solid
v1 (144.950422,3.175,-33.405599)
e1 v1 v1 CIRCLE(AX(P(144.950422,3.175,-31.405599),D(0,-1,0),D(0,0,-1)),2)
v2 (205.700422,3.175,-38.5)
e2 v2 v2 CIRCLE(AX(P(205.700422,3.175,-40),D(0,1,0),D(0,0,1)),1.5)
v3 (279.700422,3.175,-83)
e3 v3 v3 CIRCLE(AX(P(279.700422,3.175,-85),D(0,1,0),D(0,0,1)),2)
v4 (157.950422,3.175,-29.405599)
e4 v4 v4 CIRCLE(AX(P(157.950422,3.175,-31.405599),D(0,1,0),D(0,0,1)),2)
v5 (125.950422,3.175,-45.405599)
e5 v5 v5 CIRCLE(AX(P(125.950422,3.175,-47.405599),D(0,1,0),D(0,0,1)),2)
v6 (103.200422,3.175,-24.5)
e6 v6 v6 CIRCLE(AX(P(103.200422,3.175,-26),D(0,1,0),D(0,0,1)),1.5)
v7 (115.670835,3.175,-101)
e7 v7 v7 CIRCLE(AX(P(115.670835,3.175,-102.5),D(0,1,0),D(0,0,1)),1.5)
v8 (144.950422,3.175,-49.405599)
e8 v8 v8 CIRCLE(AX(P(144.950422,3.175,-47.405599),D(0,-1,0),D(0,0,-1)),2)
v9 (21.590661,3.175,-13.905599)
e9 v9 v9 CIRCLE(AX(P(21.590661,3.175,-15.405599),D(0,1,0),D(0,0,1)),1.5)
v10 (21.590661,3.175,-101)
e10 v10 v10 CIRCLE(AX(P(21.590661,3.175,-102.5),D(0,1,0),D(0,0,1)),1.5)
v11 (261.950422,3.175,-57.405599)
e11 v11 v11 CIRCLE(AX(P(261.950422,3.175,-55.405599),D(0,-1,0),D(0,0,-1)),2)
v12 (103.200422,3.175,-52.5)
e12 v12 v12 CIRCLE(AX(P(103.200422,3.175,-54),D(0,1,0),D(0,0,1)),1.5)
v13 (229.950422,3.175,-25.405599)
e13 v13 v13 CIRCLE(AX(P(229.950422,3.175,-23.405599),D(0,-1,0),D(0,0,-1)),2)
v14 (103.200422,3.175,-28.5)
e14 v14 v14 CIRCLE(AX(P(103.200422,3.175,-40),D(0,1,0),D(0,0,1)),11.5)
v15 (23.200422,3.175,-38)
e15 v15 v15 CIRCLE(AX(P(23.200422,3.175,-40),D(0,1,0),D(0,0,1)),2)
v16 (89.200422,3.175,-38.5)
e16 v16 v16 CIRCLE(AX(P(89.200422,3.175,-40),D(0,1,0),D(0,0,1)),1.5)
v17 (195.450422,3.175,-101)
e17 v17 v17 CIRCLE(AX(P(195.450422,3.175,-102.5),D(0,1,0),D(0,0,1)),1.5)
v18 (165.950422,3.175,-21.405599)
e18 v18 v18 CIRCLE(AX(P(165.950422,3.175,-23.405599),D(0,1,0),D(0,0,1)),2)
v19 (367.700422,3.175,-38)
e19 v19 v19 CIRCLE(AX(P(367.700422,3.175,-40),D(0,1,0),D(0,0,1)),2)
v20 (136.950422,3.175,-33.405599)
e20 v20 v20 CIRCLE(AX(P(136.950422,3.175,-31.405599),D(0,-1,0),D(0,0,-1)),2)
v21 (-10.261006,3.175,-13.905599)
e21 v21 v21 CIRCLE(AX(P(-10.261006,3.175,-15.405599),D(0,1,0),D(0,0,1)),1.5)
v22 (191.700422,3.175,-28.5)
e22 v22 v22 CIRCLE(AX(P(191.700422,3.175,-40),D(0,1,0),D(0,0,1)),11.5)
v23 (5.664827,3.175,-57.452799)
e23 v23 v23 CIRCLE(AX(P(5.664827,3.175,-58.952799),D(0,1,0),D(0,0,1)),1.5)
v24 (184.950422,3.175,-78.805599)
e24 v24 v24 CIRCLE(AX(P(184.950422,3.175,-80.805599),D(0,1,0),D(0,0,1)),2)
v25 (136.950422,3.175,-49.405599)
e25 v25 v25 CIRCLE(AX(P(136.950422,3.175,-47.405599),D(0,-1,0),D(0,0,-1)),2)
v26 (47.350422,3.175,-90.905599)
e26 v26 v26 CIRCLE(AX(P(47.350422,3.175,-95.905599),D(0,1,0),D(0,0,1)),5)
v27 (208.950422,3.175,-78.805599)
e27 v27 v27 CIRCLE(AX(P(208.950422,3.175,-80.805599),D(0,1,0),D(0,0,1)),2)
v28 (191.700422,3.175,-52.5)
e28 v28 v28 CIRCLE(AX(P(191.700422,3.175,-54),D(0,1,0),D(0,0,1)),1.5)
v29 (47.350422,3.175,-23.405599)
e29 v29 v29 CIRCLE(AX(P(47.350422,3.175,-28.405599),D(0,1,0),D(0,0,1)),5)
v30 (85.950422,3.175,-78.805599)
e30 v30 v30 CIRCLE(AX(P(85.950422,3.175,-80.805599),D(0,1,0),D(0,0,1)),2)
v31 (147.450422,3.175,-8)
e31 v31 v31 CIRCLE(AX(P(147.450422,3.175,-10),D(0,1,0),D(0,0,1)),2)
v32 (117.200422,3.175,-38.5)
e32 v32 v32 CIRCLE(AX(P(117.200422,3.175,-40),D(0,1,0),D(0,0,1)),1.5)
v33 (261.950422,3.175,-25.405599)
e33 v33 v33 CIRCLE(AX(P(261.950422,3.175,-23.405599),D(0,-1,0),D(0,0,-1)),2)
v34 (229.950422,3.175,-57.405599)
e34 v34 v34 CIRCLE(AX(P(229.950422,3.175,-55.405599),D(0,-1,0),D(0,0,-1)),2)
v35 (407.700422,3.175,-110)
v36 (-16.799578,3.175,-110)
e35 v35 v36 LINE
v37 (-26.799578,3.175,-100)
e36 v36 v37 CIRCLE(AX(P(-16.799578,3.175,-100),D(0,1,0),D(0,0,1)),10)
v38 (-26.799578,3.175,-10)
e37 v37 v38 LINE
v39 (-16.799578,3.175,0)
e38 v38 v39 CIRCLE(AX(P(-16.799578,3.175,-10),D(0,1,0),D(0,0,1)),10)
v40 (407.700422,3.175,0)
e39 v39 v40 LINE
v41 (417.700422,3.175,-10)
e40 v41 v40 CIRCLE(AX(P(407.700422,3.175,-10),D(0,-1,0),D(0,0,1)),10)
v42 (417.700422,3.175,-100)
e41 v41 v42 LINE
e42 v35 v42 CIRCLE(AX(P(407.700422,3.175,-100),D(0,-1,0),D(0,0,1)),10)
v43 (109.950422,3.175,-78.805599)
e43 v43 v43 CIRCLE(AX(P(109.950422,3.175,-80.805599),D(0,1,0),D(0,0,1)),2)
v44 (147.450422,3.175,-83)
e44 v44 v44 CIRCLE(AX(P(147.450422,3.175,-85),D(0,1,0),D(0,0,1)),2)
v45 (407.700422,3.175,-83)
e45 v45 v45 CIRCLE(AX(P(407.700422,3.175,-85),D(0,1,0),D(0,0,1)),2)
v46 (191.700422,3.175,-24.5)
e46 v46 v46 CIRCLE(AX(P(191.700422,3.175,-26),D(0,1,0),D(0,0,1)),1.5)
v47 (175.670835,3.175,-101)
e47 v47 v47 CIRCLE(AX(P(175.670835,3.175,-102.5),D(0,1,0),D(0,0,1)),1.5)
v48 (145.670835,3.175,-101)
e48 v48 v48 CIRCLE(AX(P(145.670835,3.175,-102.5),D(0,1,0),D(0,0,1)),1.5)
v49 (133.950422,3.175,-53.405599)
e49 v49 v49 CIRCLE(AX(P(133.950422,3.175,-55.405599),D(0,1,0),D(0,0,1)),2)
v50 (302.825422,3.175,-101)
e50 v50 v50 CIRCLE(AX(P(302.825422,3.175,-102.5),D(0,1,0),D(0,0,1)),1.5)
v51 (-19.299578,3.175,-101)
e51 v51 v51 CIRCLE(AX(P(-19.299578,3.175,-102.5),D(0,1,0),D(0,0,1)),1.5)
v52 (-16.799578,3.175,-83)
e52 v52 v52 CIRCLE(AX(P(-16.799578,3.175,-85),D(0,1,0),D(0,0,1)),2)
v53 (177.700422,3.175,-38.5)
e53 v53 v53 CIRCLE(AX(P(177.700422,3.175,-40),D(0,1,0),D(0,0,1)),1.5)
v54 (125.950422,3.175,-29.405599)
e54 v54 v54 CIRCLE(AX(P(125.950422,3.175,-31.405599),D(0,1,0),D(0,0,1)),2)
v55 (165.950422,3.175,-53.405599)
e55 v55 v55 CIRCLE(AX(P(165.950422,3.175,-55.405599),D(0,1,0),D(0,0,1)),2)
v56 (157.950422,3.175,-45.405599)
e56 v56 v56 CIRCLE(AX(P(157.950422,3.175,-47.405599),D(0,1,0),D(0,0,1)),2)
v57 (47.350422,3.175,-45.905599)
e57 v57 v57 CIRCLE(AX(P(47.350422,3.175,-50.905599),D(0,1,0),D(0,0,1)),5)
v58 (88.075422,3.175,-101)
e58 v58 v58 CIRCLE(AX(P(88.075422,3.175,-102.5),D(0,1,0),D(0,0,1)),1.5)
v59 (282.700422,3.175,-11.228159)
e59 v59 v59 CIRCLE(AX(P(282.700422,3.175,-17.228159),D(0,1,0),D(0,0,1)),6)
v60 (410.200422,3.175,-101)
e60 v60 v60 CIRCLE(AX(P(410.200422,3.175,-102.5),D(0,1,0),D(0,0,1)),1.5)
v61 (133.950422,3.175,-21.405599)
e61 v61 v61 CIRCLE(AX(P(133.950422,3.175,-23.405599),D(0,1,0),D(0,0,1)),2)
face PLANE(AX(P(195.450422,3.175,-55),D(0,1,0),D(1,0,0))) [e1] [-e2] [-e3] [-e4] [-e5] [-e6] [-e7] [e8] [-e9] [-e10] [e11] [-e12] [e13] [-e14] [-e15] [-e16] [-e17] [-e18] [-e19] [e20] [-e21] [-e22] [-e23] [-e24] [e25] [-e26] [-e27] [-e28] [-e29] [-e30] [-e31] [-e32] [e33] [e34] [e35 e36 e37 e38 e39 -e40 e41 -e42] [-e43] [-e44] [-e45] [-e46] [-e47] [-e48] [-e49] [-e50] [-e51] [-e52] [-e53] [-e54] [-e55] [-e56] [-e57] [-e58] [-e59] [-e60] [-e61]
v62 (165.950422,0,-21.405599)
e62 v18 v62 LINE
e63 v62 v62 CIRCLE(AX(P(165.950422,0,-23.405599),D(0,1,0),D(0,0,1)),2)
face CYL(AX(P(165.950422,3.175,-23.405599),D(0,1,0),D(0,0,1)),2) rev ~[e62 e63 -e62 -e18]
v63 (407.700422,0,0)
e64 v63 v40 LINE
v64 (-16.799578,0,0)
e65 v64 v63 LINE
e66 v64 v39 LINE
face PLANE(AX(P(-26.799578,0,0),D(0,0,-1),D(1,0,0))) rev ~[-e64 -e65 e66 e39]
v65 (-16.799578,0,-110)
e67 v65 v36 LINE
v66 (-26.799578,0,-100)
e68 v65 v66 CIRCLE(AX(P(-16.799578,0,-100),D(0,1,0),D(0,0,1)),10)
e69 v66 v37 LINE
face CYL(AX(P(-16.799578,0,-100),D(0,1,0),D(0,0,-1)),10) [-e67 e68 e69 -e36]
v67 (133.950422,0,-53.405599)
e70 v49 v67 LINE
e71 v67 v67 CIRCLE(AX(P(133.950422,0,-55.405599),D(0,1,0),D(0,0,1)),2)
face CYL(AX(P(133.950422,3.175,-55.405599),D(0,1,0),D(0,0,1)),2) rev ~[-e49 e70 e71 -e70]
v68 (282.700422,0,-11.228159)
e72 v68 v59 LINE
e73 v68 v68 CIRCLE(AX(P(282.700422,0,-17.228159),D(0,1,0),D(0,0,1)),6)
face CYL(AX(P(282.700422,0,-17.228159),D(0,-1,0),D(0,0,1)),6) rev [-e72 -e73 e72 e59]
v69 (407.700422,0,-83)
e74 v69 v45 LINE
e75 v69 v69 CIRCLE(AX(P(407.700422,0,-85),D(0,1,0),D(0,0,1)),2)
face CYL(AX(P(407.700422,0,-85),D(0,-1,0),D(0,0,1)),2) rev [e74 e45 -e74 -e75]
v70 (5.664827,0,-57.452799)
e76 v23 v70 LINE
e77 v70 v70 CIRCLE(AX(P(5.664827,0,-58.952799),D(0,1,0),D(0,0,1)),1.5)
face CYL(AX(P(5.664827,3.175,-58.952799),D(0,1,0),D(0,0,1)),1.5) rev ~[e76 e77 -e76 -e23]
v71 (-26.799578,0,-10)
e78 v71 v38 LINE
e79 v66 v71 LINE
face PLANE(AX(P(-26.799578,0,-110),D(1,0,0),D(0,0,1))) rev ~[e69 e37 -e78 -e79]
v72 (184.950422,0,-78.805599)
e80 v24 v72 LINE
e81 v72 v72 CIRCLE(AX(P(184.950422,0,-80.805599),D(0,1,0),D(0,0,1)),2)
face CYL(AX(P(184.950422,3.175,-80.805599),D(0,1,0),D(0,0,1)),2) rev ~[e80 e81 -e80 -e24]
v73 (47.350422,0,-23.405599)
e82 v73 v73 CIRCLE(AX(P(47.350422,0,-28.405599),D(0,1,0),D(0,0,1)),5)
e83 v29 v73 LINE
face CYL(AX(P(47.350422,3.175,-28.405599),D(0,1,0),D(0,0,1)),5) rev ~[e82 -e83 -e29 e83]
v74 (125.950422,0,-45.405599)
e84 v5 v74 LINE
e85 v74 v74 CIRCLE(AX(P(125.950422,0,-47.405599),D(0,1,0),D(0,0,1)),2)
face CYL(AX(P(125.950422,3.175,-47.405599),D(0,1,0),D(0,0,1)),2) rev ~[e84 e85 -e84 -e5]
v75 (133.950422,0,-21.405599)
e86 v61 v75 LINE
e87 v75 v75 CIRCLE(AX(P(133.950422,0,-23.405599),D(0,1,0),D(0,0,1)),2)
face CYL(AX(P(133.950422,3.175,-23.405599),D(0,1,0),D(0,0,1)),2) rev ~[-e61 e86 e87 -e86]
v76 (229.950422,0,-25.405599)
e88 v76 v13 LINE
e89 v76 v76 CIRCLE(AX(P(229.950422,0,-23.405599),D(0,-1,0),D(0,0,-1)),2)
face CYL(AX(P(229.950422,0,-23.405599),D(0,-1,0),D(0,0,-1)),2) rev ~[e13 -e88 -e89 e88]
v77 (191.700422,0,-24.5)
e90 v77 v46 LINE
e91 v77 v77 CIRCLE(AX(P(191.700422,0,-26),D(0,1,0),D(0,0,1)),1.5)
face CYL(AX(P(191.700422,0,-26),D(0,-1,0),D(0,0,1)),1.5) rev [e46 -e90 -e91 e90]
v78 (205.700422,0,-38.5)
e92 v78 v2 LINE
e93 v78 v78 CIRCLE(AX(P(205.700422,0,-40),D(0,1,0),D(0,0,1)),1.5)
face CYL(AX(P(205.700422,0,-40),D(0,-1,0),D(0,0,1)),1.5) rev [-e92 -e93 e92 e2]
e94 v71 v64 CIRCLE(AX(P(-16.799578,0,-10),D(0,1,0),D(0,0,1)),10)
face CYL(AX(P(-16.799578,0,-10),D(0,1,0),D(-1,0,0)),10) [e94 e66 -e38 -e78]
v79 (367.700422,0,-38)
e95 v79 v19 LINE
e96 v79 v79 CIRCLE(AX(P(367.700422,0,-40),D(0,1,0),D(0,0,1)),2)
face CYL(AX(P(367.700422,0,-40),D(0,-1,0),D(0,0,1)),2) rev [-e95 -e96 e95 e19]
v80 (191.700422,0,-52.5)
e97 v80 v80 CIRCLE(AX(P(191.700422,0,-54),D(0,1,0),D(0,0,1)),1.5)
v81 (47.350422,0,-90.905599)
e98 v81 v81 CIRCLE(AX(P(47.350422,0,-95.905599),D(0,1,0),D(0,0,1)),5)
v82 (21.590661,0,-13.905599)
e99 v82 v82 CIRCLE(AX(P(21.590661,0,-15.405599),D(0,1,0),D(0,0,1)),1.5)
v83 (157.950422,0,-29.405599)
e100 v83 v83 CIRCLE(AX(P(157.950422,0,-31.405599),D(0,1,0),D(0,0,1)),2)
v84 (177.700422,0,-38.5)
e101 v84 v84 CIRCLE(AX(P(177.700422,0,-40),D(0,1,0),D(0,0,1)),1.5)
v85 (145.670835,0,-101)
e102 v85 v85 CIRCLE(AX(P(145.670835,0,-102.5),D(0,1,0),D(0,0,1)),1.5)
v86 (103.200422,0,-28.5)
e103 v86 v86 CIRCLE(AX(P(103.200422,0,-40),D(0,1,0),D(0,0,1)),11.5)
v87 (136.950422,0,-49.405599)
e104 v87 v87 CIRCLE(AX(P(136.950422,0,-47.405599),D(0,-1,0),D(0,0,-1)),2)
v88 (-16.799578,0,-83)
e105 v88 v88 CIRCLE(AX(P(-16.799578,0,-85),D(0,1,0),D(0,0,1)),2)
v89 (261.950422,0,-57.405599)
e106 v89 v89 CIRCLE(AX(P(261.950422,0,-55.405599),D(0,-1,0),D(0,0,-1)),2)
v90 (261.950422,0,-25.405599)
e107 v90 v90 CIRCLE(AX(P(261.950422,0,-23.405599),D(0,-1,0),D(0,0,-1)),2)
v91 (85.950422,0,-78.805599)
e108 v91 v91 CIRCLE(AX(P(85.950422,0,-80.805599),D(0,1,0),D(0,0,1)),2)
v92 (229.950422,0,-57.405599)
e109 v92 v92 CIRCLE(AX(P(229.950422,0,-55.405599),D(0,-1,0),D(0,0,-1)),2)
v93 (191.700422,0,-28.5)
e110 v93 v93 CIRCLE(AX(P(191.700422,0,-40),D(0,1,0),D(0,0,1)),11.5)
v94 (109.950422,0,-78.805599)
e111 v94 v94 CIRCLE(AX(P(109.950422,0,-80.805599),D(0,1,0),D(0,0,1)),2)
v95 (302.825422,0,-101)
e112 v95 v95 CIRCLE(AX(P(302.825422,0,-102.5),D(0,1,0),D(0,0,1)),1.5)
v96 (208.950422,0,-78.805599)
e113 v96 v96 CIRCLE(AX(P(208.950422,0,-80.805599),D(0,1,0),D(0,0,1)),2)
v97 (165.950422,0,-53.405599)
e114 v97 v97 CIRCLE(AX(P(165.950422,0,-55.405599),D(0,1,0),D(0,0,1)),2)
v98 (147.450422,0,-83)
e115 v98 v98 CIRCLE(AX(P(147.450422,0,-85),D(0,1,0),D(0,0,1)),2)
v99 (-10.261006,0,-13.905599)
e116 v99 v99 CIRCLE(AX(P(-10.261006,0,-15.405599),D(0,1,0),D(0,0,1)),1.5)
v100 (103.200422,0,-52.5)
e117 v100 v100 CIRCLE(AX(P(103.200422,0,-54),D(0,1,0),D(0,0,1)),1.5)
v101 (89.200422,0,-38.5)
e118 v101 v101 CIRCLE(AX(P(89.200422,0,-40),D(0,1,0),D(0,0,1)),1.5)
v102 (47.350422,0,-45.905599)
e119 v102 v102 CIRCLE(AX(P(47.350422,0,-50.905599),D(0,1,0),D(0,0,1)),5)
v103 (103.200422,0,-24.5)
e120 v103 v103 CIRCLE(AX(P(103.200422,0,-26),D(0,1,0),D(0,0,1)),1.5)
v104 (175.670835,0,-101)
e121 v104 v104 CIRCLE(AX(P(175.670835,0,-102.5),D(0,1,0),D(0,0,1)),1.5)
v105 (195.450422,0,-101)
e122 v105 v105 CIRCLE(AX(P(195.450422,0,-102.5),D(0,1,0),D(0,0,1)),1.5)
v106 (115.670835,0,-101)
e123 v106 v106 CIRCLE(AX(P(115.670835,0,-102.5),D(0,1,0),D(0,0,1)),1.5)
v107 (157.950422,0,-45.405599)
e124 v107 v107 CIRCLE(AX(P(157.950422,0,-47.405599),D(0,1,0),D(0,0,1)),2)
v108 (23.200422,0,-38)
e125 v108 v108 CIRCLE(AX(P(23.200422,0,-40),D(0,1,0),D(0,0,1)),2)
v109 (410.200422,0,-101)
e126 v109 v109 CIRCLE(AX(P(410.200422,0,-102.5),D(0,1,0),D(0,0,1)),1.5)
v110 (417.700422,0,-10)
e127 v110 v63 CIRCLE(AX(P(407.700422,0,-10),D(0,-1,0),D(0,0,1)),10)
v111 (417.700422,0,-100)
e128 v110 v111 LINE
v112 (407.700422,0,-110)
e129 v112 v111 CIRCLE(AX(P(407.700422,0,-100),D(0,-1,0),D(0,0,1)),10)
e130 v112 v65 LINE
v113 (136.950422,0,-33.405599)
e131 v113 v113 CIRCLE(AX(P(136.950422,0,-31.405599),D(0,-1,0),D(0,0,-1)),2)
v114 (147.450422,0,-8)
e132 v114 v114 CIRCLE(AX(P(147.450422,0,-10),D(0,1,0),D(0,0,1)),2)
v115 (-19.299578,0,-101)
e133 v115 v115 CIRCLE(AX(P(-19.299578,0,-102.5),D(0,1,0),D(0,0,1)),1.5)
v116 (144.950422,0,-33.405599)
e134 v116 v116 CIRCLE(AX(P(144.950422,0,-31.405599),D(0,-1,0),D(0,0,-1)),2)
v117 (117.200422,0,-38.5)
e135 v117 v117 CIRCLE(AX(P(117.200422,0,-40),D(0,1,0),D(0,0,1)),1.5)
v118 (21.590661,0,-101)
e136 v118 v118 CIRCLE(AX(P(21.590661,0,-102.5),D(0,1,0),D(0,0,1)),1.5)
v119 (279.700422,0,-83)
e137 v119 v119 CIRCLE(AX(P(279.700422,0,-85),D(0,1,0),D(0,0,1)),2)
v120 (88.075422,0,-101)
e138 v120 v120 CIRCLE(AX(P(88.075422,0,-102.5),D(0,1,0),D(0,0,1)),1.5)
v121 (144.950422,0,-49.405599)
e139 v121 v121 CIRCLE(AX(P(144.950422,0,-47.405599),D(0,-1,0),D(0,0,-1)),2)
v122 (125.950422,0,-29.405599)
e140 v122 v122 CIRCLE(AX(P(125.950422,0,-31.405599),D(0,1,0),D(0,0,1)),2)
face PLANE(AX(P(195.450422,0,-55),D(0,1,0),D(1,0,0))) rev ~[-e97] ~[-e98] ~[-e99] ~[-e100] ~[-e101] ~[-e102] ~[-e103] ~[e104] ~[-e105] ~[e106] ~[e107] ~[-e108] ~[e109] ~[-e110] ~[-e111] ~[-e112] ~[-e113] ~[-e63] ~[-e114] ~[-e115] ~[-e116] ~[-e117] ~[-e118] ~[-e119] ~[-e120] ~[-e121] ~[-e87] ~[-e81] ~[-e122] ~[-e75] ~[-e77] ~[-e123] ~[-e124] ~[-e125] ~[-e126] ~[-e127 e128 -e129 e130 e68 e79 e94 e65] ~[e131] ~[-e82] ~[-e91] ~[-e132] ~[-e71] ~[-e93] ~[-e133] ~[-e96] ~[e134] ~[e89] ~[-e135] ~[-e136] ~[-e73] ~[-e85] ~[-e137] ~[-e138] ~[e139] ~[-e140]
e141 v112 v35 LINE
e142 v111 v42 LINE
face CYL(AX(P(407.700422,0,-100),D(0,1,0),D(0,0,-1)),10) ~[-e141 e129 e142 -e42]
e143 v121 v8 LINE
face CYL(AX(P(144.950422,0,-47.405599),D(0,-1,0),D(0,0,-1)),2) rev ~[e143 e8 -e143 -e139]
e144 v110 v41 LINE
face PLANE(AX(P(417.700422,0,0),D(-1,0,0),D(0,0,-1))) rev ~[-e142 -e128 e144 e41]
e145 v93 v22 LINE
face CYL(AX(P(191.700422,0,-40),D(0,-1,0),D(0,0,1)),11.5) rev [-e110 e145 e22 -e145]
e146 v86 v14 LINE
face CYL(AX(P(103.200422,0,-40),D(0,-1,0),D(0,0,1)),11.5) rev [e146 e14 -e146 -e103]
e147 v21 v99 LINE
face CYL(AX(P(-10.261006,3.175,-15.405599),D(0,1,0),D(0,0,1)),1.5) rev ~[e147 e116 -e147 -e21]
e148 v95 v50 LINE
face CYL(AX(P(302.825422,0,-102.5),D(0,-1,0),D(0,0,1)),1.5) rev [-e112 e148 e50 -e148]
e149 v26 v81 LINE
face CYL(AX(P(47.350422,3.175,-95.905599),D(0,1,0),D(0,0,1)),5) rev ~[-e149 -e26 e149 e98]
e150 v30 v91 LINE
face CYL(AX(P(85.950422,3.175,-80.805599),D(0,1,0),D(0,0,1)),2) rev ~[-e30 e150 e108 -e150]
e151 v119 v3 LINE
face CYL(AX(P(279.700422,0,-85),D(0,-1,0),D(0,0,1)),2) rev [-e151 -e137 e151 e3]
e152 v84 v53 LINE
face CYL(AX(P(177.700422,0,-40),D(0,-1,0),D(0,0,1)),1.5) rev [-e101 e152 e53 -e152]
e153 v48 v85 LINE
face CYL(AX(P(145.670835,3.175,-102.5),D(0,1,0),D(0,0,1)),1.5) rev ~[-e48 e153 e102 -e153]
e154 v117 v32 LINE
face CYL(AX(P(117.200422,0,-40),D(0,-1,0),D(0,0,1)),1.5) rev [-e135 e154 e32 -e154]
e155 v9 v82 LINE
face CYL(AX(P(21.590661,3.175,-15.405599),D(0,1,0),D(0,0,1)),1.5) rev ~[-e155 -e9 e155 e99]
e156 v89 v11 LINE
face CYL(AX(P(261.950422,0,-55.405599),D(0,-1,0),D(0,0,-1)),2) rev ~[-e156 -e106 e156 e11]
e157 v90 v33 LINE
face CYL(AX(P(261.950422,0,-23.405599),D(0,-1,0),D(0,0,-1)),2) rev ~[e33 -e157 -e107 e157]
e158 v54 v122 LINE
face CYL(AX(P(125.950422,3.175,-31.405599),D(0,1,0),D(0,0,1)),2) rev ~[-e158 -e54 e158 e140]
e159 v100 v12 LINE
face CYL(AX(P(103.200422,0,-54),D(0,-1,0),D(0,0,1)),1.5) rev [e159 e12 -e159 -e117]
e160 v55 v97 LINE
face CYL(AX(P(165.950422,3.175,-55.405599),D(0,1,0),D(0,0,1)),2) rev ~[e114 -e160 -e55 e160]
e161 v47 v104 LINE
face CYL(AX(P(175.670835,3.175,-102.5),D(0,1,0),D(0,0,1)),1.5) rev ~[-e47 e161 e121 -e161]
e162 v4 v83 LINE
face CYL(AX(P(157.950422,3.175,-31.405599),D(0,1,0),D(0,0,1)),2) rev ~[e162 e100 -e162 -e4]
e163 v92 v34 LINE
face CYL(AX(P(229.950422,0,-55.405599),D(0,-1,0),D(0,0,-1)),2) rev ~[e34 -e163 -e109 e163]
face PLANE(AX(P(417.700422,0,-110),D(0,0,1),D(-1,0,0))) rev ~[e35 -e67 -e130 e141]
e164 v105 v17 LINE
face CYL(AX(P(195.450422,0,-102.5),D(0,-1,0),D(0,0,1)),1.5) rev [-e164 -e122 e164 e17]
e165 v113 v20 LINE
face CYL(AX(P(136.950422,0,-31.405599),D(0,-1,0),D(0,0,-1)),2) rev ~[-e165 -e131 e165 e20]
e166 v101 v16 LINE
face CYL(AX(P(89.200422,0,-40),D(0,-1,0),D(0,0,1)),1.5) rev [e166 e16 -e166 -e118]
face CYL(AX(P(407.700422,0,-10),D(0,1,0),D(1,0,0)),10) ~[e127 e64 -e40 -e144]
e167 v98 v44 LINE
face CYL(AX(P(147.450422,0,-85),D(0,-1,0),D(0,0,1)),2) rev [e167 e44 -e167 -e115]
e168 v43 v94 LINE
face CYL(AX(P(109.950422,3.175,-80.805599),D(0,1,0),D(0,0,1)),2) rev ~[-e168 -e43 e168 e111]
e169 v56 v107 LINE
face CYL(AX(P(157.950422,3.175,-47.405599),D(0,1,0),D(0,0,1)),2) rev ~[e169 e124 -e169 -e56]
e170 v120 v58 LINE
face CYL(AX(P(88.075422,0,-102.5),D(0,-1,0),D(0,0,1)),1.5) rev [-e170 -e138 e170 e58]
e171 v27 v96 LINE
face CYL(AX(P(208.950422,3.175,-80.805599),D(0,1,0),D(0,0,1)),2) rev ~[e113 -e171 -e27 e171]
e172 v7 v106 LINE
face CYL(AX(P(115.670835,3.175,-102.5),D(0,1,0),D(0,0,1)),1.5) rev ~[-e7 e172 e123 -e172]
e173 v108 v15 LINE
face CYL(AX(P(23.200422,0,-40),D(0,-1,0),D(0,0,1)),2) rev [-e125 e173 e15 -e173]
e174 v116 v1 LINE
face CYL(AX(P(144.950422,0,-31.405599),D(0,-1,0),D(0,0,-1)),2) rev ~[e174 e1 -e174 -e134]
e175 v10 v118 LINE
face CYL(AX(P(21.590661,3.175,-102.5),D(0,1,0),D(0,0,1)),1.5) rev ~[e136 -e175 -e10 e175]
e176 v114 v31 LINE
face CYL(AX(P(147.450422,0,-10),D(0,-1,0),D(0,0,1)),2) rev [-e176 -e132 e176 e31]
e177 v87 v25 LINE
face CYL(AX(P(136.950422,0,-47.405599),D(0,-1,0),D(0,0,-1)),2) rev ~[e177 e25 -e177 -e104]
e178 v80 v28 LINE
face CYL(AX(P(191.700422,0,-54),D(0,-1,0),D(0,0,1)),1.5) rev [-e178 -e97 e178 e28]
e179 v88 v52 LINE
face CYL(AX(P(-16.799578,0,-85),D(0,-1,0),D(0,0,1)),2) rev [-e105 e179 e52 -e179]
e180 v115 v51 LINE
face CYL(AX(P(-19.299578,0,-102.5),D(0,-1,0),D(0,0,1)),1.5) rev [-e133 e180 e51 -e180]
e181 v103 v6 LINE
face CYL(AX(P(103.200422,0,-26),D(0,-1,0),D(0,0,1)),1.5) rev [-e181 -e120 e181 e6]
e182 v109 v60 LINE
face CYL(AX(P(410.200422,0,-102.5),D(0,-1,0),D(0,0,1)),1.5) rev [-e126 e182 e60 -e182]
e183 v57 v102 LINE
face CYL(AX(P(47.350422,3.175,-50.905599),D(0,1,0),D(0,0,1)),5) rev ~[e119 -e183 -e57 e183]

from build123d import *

# Parameters (mm, degrees)
SKETCH1_R           = 2
SKETCH1_R_2         = 1.5
SKETCH1_R_3         = 11.5
SKETCH1_R_4         = 6
BOSS_EXTRUDE1_DEPTH = 3.175
FILLET1_R           = 10
SKETCH2_R           = 2
CUT_EXTRUDE1_DEPTH  = 10
SKETCH3_R           = 2
CUT_EXTRUDE2_DEPTH  = 10
SKETCH4_R           = 1.5
SKETCH4_R_2         = 2
CUT_EXTRUDE3_DEPTH  = 6.35
SKETCH5_R           = 5
CUT_EXTRUDE4_DEPTH  = 3.175


with BuildPart() as part:
    # Sketch1 → Boss-Extrude1 (new body)
    with BuildSketch(Plane(origin=(0, 0, 0), x_dir=(1, 0, 0), z_dir=(0, 1, 0))):
        Polygon((417.700422465, 110), (-26.799577535, 110), (-26.799577535, 0), (417.700422465, 0), (417.700422465, 17.22815868), align=None)
        with Locations(Location((147.450422465, 10, 0), (0, 0, 270))):
            Circle(SKETCH1_R, mode=Mode.SUBTRACT)
        with Locations(Location((103.200422465, 26, 0), (0, 0, 270))):
            Circle(SKETCH1_R_2, mode=Mode.SUBTRACT)
        with Locations(Location((23.200422465, 40, 0), (0, 0, 270))):
            Circle(SKETCH1_R, mode=Mode.SUBTRACT)
        with Locations(Location((89.200422465, 40, 0), (0, 0, 270))):
            Circle(SKETCH1_R_2, mode=Mode.SUBTRACT)
        with Locations(Location((103.200422465, 40, 0), (0, 0, 270))):
            Circle(SKETCH1_R_3, mode=Mode.SUBTRACT)
        with Locations(Location((117.200422465, 40, 0), (0, 0, 270))):
            Circle(SKETCH1_R_2, mode=Mode.SUBTRACT)
        with Locations(Location((177.700422465, 40, 0), (0, 0, 270))):
            Circle(SKETCH1_R_2, mode=Mode.SUBTRACT)
        with Locations(Location((191.700422465, 26, 0), (0, 0, 270))):
            Circle(SKETCH1_R_2, mode=Mode.SUBTRACT)
        with Locations(Location((191.700422465, 40, 0), (0, 0, 270))):
            Circle(SKETCH1_R_3, mode=Mode.SUBTRACT)
        with Locations(Location((205.700422465, 40, 0), (0, 0, 270))):
            Circle(SKETCH1_R_2, mode=Mode.SUBTRACT)
        with Locations(Location((103.200422465, 54, 0), (0, 0, 270))):
            Circle(SKETCH1_R_2, mode=Mode.SUBTRACT)
        with Locations(Location((191.700422465, 54, 0), (0, 0, 270))):
            Circle(SKETCH1_R_2, mode=Mode.SUBTRACT)
        with Locations(Location((282.700422465, 17.22815868, 0), (0, 0, 270))):
            Circle(SKETCH1_R_4, mode=Mode.SUBTRACT)
        with Locations(Location((367.700422465, 40, 0), (0, 0, 270))):
            Circle(SKETCH1_R, mode=Mode.SUBTRACT)
        with Locations(Location((-16.799577535, 85, 0), (0, 0, 270))):
            Circle(SKETCH1_R, mode=Mode.SUBTRACT)
        with Locations(Location((-19.299577535, 102.5, 0), (0, 0, 270))):
            Circle(SKETCH1_R_2, mode=Mode.SUBTRACT)
        with Locations(Location((147.450422465, 85, 0), (0, 0, 270))):
            Circle(SKETCH1_R, mode=Mode.SUBTRACT)
        with Locations(Location((88.075422465, 102.5, 0), (0, 0, 270))):
            Circle(SKETCH1_R_2, mode=Mode.SUBTRACT)
        with Locations(Location((279.700422465, 85, 0), (0, 0, 270))):
            Circle(SKETCH1_R, mode=Mode.SUBTRACT)
        with Locations(Location((195.450422465, 102.5, 0), (0, 0, 270))):
            Circle(SKETCH1_R_2, mode=Mode.SUBTRACT)
        with Locations(Location((302.825422465, 102.5, 0), (0, 0, 270))):
            Circle(SKETCH1_R_2, mode=Mode.SUBTRACT)
        with Locations(Location((407.700422465, 85, 0), (0, 0, 270))):
            Circle(SKETCH1_R, mode=Mode.SUBTRACT)
        with Locations(Location((410.200422465, 102.5, 0), (0, 0, 270))):
            Circle(SKETCH1_R_2, mode=Mode.SUBTRACT)
    extrude(amount=BOSS_EXTRUDE1_DEPTH)

    # Fillet1
    fillet1_edges = [part.edges().sort_by_distance(p)[0] for p in [
        (417.700422465, 1.5875, 0),
        (-26.799577535, 1.5875, 0),
        (-26.799577535, 1.5875, -110),
        (417.700422465, 1.5875, -110),
    ]]
    fillet(fillet1_edges, radius=FILLET1_R)

    # Sketch2 → Cut-Extrude1 (cut)
    with BuildSketch(Plane(origin=(0, 3.175, 0), x_dir=(1, 0, 0), z_dir=(0, 1, 0))):
        with Locations(Location((133.950422465, 55.40559892, 0), (0, 0, 270))):
            Circle(SKETCH2_R)
        with Locations(Location((165.950422465, 55.40559892, 0), (0, 0, 270))):
            Circle(SKETCH2_R)
        with Locations(Location((165.950422465, 23.40559892, 0), (0, 0, 270))):
            Circle(SKETCH2_R)
        with Locations(Location((157.950422465, 47.40559892, 0), (0, 0, 270))):
            Circle(SKETCH2_R)
        with Locations(Location((125.950422465, 47.40559892, 0), (0, 0, 270))):
            Circle(SKETCH2_R)
        with Locations(Location((133.950422465, 23.40559892, 0), (0, 0, 270))):
            Circle(SKETCH2_R)
        with Locations(Location((125.950422465, 31.40559892, 0), (0, 0, 270))):
            Circle(SKETCH2_R)
        with Locations(Location((157.950422465, 31.40559892, 0), (0, 0, 270))):
            Circle(SKETCH2_R)
    extrude(amount=-CUT_EXTRUDE1_DEPTH, mode=Mode.SUBTRACT)

    # Sketch3 → Cut-Extrude2 (cut)
    with BuildSketch(Plane.XZ):
        with Locations(Location((136.950422465, -47.40559892, 0), (0, 0, 270))):
            Circle(SKETCH3_R)
        with Locations(Location((144.950422465, -31.40559892, 0), (0, 0, 270))):
            Circle(SKETCH3_R)
        with Locations(Location((136.950422465, -31.40559892, 0), (0, 0, 270))):
            Circle(SKETCH3_R)
        with Locations(Location((144.950422465, -47.40559892, 0), (0, 0, 270))):
            Circle(SKETCH3_R)
        with Locations(Location((229.950422465, -55.40559892, 0), (0, 0, 270))):
            Circle(SKETCH3_R)
        with Locations(Location((229.950422465, -23.40559892, 0), (0, 0, 270))):
            Circle(SKETCH3_R)
        with Locations(Location((261.950422465, -23.40559892, 0), (0, 0, 270))):
            Circle(SKETCH3_R)
        with Locations(Location((261.950422465, -55.40559892, 0), (0, 0, 270))):
            Circle(SKETCH3_R)
    extrude(amount=-CUT_EXTRUDE2_DEPTH, mode=Mode.SUBTRACT)

    # Sketch4 → Cut-Extrude3 (cut)
    with BuildSketch(Plane(origin=(0, 3.175, 0), x_dir=(1, 0, 0), z_dir=(0, 1, 0))):
        with Locations(Location((21.590660574, 102.5, 0), (0, 0, 270))):
            Circle(SKETCH4_R)
        with Locations(Location((5.664827234, 58.95279946, 0), (0, 0, 270))):
            Circle(SKETCH4_R)
        with Locations(Location((-10.261006106, 15.40559892, 0), (0, 0, 270))):
            Circle(SKETCH4_R)
        with Locations(Location((47.350422465, 50.90559892, 0), (0, 0, 270))):
            Circle(SKETCH4_R_2)
        with Locations(Location((115.670834955, 102.5, 0), (0, 0, 270))):
            Circle(SKETCH4_R)
        with Locations(Location((145.670834955, 102.5, 0), (0, 0, 270))):
            Circle(SKETCH4_R)
        with Locations(Location((175.670834955, 102.5, 0), (0, 0, 270))):
            Circle(SKETCH4_R)
        with Locations(Location((47.350422465, 95.90559892, 0), (0, 0, 270))):
            Circle(SKETCH4_R_2)
        with Locations(Location((21.590660574, 15.40559892, 0), (0, 0, 270))):
            Circle(SKETCH4_R)
        with Locations(Location((47.350422465, 28.40559892, 0), (0, 0, 270))):
            Circle(SKETCH4_R_2)
        with Locations(Location((208.950422465, 80.80559892, 0), (0, 0, 270))):
            Circle(SKETCH4_R_2)
        with Locations(Location((184.950422465, 80.80559892, 0), (0, 0, 270))):
            Circle(SKETCH4_R_2)
        with Locations(Location((109.950422465, 80.80559892, 0), (0, 0, 270))):
            Circle(SKETCH4_R_2)
        with Locations(Location((85.950422465, 80.80559892, 0), (0, 0, 270))):
            Circle(SKETCH4_R_2)
    extrude(amount=-CUT_EXTRUDE3_DEPTH, mode=Mode.SUBTRACT)

    # Sketch5 → Cut-Extrude4 (cut)
    with BuildSketch(Plane(origin=(0, 3.175, 0), x_dir=(1, 0, 0), z_dir=(0, 1, 0))):
        with Locations(Location((47.350422465, 95.90559892, 0), (0, 0, 270))):
            Circle(SKETCH5_R)
        with Locations(Location((47.350422465, 50.90559892, 0), (0, 0, 270))):
            Circle(SKETCH5_R)
        with Locations(Location((47.350422465, 28.40559892, 0), (0, 0, 270))):
            Circle(SKETCH5_R)
    extrude(amount=-CUT_EXTRUDE4_DEPTH, mode=Mode.SUBTRACT)


solid = part.part
